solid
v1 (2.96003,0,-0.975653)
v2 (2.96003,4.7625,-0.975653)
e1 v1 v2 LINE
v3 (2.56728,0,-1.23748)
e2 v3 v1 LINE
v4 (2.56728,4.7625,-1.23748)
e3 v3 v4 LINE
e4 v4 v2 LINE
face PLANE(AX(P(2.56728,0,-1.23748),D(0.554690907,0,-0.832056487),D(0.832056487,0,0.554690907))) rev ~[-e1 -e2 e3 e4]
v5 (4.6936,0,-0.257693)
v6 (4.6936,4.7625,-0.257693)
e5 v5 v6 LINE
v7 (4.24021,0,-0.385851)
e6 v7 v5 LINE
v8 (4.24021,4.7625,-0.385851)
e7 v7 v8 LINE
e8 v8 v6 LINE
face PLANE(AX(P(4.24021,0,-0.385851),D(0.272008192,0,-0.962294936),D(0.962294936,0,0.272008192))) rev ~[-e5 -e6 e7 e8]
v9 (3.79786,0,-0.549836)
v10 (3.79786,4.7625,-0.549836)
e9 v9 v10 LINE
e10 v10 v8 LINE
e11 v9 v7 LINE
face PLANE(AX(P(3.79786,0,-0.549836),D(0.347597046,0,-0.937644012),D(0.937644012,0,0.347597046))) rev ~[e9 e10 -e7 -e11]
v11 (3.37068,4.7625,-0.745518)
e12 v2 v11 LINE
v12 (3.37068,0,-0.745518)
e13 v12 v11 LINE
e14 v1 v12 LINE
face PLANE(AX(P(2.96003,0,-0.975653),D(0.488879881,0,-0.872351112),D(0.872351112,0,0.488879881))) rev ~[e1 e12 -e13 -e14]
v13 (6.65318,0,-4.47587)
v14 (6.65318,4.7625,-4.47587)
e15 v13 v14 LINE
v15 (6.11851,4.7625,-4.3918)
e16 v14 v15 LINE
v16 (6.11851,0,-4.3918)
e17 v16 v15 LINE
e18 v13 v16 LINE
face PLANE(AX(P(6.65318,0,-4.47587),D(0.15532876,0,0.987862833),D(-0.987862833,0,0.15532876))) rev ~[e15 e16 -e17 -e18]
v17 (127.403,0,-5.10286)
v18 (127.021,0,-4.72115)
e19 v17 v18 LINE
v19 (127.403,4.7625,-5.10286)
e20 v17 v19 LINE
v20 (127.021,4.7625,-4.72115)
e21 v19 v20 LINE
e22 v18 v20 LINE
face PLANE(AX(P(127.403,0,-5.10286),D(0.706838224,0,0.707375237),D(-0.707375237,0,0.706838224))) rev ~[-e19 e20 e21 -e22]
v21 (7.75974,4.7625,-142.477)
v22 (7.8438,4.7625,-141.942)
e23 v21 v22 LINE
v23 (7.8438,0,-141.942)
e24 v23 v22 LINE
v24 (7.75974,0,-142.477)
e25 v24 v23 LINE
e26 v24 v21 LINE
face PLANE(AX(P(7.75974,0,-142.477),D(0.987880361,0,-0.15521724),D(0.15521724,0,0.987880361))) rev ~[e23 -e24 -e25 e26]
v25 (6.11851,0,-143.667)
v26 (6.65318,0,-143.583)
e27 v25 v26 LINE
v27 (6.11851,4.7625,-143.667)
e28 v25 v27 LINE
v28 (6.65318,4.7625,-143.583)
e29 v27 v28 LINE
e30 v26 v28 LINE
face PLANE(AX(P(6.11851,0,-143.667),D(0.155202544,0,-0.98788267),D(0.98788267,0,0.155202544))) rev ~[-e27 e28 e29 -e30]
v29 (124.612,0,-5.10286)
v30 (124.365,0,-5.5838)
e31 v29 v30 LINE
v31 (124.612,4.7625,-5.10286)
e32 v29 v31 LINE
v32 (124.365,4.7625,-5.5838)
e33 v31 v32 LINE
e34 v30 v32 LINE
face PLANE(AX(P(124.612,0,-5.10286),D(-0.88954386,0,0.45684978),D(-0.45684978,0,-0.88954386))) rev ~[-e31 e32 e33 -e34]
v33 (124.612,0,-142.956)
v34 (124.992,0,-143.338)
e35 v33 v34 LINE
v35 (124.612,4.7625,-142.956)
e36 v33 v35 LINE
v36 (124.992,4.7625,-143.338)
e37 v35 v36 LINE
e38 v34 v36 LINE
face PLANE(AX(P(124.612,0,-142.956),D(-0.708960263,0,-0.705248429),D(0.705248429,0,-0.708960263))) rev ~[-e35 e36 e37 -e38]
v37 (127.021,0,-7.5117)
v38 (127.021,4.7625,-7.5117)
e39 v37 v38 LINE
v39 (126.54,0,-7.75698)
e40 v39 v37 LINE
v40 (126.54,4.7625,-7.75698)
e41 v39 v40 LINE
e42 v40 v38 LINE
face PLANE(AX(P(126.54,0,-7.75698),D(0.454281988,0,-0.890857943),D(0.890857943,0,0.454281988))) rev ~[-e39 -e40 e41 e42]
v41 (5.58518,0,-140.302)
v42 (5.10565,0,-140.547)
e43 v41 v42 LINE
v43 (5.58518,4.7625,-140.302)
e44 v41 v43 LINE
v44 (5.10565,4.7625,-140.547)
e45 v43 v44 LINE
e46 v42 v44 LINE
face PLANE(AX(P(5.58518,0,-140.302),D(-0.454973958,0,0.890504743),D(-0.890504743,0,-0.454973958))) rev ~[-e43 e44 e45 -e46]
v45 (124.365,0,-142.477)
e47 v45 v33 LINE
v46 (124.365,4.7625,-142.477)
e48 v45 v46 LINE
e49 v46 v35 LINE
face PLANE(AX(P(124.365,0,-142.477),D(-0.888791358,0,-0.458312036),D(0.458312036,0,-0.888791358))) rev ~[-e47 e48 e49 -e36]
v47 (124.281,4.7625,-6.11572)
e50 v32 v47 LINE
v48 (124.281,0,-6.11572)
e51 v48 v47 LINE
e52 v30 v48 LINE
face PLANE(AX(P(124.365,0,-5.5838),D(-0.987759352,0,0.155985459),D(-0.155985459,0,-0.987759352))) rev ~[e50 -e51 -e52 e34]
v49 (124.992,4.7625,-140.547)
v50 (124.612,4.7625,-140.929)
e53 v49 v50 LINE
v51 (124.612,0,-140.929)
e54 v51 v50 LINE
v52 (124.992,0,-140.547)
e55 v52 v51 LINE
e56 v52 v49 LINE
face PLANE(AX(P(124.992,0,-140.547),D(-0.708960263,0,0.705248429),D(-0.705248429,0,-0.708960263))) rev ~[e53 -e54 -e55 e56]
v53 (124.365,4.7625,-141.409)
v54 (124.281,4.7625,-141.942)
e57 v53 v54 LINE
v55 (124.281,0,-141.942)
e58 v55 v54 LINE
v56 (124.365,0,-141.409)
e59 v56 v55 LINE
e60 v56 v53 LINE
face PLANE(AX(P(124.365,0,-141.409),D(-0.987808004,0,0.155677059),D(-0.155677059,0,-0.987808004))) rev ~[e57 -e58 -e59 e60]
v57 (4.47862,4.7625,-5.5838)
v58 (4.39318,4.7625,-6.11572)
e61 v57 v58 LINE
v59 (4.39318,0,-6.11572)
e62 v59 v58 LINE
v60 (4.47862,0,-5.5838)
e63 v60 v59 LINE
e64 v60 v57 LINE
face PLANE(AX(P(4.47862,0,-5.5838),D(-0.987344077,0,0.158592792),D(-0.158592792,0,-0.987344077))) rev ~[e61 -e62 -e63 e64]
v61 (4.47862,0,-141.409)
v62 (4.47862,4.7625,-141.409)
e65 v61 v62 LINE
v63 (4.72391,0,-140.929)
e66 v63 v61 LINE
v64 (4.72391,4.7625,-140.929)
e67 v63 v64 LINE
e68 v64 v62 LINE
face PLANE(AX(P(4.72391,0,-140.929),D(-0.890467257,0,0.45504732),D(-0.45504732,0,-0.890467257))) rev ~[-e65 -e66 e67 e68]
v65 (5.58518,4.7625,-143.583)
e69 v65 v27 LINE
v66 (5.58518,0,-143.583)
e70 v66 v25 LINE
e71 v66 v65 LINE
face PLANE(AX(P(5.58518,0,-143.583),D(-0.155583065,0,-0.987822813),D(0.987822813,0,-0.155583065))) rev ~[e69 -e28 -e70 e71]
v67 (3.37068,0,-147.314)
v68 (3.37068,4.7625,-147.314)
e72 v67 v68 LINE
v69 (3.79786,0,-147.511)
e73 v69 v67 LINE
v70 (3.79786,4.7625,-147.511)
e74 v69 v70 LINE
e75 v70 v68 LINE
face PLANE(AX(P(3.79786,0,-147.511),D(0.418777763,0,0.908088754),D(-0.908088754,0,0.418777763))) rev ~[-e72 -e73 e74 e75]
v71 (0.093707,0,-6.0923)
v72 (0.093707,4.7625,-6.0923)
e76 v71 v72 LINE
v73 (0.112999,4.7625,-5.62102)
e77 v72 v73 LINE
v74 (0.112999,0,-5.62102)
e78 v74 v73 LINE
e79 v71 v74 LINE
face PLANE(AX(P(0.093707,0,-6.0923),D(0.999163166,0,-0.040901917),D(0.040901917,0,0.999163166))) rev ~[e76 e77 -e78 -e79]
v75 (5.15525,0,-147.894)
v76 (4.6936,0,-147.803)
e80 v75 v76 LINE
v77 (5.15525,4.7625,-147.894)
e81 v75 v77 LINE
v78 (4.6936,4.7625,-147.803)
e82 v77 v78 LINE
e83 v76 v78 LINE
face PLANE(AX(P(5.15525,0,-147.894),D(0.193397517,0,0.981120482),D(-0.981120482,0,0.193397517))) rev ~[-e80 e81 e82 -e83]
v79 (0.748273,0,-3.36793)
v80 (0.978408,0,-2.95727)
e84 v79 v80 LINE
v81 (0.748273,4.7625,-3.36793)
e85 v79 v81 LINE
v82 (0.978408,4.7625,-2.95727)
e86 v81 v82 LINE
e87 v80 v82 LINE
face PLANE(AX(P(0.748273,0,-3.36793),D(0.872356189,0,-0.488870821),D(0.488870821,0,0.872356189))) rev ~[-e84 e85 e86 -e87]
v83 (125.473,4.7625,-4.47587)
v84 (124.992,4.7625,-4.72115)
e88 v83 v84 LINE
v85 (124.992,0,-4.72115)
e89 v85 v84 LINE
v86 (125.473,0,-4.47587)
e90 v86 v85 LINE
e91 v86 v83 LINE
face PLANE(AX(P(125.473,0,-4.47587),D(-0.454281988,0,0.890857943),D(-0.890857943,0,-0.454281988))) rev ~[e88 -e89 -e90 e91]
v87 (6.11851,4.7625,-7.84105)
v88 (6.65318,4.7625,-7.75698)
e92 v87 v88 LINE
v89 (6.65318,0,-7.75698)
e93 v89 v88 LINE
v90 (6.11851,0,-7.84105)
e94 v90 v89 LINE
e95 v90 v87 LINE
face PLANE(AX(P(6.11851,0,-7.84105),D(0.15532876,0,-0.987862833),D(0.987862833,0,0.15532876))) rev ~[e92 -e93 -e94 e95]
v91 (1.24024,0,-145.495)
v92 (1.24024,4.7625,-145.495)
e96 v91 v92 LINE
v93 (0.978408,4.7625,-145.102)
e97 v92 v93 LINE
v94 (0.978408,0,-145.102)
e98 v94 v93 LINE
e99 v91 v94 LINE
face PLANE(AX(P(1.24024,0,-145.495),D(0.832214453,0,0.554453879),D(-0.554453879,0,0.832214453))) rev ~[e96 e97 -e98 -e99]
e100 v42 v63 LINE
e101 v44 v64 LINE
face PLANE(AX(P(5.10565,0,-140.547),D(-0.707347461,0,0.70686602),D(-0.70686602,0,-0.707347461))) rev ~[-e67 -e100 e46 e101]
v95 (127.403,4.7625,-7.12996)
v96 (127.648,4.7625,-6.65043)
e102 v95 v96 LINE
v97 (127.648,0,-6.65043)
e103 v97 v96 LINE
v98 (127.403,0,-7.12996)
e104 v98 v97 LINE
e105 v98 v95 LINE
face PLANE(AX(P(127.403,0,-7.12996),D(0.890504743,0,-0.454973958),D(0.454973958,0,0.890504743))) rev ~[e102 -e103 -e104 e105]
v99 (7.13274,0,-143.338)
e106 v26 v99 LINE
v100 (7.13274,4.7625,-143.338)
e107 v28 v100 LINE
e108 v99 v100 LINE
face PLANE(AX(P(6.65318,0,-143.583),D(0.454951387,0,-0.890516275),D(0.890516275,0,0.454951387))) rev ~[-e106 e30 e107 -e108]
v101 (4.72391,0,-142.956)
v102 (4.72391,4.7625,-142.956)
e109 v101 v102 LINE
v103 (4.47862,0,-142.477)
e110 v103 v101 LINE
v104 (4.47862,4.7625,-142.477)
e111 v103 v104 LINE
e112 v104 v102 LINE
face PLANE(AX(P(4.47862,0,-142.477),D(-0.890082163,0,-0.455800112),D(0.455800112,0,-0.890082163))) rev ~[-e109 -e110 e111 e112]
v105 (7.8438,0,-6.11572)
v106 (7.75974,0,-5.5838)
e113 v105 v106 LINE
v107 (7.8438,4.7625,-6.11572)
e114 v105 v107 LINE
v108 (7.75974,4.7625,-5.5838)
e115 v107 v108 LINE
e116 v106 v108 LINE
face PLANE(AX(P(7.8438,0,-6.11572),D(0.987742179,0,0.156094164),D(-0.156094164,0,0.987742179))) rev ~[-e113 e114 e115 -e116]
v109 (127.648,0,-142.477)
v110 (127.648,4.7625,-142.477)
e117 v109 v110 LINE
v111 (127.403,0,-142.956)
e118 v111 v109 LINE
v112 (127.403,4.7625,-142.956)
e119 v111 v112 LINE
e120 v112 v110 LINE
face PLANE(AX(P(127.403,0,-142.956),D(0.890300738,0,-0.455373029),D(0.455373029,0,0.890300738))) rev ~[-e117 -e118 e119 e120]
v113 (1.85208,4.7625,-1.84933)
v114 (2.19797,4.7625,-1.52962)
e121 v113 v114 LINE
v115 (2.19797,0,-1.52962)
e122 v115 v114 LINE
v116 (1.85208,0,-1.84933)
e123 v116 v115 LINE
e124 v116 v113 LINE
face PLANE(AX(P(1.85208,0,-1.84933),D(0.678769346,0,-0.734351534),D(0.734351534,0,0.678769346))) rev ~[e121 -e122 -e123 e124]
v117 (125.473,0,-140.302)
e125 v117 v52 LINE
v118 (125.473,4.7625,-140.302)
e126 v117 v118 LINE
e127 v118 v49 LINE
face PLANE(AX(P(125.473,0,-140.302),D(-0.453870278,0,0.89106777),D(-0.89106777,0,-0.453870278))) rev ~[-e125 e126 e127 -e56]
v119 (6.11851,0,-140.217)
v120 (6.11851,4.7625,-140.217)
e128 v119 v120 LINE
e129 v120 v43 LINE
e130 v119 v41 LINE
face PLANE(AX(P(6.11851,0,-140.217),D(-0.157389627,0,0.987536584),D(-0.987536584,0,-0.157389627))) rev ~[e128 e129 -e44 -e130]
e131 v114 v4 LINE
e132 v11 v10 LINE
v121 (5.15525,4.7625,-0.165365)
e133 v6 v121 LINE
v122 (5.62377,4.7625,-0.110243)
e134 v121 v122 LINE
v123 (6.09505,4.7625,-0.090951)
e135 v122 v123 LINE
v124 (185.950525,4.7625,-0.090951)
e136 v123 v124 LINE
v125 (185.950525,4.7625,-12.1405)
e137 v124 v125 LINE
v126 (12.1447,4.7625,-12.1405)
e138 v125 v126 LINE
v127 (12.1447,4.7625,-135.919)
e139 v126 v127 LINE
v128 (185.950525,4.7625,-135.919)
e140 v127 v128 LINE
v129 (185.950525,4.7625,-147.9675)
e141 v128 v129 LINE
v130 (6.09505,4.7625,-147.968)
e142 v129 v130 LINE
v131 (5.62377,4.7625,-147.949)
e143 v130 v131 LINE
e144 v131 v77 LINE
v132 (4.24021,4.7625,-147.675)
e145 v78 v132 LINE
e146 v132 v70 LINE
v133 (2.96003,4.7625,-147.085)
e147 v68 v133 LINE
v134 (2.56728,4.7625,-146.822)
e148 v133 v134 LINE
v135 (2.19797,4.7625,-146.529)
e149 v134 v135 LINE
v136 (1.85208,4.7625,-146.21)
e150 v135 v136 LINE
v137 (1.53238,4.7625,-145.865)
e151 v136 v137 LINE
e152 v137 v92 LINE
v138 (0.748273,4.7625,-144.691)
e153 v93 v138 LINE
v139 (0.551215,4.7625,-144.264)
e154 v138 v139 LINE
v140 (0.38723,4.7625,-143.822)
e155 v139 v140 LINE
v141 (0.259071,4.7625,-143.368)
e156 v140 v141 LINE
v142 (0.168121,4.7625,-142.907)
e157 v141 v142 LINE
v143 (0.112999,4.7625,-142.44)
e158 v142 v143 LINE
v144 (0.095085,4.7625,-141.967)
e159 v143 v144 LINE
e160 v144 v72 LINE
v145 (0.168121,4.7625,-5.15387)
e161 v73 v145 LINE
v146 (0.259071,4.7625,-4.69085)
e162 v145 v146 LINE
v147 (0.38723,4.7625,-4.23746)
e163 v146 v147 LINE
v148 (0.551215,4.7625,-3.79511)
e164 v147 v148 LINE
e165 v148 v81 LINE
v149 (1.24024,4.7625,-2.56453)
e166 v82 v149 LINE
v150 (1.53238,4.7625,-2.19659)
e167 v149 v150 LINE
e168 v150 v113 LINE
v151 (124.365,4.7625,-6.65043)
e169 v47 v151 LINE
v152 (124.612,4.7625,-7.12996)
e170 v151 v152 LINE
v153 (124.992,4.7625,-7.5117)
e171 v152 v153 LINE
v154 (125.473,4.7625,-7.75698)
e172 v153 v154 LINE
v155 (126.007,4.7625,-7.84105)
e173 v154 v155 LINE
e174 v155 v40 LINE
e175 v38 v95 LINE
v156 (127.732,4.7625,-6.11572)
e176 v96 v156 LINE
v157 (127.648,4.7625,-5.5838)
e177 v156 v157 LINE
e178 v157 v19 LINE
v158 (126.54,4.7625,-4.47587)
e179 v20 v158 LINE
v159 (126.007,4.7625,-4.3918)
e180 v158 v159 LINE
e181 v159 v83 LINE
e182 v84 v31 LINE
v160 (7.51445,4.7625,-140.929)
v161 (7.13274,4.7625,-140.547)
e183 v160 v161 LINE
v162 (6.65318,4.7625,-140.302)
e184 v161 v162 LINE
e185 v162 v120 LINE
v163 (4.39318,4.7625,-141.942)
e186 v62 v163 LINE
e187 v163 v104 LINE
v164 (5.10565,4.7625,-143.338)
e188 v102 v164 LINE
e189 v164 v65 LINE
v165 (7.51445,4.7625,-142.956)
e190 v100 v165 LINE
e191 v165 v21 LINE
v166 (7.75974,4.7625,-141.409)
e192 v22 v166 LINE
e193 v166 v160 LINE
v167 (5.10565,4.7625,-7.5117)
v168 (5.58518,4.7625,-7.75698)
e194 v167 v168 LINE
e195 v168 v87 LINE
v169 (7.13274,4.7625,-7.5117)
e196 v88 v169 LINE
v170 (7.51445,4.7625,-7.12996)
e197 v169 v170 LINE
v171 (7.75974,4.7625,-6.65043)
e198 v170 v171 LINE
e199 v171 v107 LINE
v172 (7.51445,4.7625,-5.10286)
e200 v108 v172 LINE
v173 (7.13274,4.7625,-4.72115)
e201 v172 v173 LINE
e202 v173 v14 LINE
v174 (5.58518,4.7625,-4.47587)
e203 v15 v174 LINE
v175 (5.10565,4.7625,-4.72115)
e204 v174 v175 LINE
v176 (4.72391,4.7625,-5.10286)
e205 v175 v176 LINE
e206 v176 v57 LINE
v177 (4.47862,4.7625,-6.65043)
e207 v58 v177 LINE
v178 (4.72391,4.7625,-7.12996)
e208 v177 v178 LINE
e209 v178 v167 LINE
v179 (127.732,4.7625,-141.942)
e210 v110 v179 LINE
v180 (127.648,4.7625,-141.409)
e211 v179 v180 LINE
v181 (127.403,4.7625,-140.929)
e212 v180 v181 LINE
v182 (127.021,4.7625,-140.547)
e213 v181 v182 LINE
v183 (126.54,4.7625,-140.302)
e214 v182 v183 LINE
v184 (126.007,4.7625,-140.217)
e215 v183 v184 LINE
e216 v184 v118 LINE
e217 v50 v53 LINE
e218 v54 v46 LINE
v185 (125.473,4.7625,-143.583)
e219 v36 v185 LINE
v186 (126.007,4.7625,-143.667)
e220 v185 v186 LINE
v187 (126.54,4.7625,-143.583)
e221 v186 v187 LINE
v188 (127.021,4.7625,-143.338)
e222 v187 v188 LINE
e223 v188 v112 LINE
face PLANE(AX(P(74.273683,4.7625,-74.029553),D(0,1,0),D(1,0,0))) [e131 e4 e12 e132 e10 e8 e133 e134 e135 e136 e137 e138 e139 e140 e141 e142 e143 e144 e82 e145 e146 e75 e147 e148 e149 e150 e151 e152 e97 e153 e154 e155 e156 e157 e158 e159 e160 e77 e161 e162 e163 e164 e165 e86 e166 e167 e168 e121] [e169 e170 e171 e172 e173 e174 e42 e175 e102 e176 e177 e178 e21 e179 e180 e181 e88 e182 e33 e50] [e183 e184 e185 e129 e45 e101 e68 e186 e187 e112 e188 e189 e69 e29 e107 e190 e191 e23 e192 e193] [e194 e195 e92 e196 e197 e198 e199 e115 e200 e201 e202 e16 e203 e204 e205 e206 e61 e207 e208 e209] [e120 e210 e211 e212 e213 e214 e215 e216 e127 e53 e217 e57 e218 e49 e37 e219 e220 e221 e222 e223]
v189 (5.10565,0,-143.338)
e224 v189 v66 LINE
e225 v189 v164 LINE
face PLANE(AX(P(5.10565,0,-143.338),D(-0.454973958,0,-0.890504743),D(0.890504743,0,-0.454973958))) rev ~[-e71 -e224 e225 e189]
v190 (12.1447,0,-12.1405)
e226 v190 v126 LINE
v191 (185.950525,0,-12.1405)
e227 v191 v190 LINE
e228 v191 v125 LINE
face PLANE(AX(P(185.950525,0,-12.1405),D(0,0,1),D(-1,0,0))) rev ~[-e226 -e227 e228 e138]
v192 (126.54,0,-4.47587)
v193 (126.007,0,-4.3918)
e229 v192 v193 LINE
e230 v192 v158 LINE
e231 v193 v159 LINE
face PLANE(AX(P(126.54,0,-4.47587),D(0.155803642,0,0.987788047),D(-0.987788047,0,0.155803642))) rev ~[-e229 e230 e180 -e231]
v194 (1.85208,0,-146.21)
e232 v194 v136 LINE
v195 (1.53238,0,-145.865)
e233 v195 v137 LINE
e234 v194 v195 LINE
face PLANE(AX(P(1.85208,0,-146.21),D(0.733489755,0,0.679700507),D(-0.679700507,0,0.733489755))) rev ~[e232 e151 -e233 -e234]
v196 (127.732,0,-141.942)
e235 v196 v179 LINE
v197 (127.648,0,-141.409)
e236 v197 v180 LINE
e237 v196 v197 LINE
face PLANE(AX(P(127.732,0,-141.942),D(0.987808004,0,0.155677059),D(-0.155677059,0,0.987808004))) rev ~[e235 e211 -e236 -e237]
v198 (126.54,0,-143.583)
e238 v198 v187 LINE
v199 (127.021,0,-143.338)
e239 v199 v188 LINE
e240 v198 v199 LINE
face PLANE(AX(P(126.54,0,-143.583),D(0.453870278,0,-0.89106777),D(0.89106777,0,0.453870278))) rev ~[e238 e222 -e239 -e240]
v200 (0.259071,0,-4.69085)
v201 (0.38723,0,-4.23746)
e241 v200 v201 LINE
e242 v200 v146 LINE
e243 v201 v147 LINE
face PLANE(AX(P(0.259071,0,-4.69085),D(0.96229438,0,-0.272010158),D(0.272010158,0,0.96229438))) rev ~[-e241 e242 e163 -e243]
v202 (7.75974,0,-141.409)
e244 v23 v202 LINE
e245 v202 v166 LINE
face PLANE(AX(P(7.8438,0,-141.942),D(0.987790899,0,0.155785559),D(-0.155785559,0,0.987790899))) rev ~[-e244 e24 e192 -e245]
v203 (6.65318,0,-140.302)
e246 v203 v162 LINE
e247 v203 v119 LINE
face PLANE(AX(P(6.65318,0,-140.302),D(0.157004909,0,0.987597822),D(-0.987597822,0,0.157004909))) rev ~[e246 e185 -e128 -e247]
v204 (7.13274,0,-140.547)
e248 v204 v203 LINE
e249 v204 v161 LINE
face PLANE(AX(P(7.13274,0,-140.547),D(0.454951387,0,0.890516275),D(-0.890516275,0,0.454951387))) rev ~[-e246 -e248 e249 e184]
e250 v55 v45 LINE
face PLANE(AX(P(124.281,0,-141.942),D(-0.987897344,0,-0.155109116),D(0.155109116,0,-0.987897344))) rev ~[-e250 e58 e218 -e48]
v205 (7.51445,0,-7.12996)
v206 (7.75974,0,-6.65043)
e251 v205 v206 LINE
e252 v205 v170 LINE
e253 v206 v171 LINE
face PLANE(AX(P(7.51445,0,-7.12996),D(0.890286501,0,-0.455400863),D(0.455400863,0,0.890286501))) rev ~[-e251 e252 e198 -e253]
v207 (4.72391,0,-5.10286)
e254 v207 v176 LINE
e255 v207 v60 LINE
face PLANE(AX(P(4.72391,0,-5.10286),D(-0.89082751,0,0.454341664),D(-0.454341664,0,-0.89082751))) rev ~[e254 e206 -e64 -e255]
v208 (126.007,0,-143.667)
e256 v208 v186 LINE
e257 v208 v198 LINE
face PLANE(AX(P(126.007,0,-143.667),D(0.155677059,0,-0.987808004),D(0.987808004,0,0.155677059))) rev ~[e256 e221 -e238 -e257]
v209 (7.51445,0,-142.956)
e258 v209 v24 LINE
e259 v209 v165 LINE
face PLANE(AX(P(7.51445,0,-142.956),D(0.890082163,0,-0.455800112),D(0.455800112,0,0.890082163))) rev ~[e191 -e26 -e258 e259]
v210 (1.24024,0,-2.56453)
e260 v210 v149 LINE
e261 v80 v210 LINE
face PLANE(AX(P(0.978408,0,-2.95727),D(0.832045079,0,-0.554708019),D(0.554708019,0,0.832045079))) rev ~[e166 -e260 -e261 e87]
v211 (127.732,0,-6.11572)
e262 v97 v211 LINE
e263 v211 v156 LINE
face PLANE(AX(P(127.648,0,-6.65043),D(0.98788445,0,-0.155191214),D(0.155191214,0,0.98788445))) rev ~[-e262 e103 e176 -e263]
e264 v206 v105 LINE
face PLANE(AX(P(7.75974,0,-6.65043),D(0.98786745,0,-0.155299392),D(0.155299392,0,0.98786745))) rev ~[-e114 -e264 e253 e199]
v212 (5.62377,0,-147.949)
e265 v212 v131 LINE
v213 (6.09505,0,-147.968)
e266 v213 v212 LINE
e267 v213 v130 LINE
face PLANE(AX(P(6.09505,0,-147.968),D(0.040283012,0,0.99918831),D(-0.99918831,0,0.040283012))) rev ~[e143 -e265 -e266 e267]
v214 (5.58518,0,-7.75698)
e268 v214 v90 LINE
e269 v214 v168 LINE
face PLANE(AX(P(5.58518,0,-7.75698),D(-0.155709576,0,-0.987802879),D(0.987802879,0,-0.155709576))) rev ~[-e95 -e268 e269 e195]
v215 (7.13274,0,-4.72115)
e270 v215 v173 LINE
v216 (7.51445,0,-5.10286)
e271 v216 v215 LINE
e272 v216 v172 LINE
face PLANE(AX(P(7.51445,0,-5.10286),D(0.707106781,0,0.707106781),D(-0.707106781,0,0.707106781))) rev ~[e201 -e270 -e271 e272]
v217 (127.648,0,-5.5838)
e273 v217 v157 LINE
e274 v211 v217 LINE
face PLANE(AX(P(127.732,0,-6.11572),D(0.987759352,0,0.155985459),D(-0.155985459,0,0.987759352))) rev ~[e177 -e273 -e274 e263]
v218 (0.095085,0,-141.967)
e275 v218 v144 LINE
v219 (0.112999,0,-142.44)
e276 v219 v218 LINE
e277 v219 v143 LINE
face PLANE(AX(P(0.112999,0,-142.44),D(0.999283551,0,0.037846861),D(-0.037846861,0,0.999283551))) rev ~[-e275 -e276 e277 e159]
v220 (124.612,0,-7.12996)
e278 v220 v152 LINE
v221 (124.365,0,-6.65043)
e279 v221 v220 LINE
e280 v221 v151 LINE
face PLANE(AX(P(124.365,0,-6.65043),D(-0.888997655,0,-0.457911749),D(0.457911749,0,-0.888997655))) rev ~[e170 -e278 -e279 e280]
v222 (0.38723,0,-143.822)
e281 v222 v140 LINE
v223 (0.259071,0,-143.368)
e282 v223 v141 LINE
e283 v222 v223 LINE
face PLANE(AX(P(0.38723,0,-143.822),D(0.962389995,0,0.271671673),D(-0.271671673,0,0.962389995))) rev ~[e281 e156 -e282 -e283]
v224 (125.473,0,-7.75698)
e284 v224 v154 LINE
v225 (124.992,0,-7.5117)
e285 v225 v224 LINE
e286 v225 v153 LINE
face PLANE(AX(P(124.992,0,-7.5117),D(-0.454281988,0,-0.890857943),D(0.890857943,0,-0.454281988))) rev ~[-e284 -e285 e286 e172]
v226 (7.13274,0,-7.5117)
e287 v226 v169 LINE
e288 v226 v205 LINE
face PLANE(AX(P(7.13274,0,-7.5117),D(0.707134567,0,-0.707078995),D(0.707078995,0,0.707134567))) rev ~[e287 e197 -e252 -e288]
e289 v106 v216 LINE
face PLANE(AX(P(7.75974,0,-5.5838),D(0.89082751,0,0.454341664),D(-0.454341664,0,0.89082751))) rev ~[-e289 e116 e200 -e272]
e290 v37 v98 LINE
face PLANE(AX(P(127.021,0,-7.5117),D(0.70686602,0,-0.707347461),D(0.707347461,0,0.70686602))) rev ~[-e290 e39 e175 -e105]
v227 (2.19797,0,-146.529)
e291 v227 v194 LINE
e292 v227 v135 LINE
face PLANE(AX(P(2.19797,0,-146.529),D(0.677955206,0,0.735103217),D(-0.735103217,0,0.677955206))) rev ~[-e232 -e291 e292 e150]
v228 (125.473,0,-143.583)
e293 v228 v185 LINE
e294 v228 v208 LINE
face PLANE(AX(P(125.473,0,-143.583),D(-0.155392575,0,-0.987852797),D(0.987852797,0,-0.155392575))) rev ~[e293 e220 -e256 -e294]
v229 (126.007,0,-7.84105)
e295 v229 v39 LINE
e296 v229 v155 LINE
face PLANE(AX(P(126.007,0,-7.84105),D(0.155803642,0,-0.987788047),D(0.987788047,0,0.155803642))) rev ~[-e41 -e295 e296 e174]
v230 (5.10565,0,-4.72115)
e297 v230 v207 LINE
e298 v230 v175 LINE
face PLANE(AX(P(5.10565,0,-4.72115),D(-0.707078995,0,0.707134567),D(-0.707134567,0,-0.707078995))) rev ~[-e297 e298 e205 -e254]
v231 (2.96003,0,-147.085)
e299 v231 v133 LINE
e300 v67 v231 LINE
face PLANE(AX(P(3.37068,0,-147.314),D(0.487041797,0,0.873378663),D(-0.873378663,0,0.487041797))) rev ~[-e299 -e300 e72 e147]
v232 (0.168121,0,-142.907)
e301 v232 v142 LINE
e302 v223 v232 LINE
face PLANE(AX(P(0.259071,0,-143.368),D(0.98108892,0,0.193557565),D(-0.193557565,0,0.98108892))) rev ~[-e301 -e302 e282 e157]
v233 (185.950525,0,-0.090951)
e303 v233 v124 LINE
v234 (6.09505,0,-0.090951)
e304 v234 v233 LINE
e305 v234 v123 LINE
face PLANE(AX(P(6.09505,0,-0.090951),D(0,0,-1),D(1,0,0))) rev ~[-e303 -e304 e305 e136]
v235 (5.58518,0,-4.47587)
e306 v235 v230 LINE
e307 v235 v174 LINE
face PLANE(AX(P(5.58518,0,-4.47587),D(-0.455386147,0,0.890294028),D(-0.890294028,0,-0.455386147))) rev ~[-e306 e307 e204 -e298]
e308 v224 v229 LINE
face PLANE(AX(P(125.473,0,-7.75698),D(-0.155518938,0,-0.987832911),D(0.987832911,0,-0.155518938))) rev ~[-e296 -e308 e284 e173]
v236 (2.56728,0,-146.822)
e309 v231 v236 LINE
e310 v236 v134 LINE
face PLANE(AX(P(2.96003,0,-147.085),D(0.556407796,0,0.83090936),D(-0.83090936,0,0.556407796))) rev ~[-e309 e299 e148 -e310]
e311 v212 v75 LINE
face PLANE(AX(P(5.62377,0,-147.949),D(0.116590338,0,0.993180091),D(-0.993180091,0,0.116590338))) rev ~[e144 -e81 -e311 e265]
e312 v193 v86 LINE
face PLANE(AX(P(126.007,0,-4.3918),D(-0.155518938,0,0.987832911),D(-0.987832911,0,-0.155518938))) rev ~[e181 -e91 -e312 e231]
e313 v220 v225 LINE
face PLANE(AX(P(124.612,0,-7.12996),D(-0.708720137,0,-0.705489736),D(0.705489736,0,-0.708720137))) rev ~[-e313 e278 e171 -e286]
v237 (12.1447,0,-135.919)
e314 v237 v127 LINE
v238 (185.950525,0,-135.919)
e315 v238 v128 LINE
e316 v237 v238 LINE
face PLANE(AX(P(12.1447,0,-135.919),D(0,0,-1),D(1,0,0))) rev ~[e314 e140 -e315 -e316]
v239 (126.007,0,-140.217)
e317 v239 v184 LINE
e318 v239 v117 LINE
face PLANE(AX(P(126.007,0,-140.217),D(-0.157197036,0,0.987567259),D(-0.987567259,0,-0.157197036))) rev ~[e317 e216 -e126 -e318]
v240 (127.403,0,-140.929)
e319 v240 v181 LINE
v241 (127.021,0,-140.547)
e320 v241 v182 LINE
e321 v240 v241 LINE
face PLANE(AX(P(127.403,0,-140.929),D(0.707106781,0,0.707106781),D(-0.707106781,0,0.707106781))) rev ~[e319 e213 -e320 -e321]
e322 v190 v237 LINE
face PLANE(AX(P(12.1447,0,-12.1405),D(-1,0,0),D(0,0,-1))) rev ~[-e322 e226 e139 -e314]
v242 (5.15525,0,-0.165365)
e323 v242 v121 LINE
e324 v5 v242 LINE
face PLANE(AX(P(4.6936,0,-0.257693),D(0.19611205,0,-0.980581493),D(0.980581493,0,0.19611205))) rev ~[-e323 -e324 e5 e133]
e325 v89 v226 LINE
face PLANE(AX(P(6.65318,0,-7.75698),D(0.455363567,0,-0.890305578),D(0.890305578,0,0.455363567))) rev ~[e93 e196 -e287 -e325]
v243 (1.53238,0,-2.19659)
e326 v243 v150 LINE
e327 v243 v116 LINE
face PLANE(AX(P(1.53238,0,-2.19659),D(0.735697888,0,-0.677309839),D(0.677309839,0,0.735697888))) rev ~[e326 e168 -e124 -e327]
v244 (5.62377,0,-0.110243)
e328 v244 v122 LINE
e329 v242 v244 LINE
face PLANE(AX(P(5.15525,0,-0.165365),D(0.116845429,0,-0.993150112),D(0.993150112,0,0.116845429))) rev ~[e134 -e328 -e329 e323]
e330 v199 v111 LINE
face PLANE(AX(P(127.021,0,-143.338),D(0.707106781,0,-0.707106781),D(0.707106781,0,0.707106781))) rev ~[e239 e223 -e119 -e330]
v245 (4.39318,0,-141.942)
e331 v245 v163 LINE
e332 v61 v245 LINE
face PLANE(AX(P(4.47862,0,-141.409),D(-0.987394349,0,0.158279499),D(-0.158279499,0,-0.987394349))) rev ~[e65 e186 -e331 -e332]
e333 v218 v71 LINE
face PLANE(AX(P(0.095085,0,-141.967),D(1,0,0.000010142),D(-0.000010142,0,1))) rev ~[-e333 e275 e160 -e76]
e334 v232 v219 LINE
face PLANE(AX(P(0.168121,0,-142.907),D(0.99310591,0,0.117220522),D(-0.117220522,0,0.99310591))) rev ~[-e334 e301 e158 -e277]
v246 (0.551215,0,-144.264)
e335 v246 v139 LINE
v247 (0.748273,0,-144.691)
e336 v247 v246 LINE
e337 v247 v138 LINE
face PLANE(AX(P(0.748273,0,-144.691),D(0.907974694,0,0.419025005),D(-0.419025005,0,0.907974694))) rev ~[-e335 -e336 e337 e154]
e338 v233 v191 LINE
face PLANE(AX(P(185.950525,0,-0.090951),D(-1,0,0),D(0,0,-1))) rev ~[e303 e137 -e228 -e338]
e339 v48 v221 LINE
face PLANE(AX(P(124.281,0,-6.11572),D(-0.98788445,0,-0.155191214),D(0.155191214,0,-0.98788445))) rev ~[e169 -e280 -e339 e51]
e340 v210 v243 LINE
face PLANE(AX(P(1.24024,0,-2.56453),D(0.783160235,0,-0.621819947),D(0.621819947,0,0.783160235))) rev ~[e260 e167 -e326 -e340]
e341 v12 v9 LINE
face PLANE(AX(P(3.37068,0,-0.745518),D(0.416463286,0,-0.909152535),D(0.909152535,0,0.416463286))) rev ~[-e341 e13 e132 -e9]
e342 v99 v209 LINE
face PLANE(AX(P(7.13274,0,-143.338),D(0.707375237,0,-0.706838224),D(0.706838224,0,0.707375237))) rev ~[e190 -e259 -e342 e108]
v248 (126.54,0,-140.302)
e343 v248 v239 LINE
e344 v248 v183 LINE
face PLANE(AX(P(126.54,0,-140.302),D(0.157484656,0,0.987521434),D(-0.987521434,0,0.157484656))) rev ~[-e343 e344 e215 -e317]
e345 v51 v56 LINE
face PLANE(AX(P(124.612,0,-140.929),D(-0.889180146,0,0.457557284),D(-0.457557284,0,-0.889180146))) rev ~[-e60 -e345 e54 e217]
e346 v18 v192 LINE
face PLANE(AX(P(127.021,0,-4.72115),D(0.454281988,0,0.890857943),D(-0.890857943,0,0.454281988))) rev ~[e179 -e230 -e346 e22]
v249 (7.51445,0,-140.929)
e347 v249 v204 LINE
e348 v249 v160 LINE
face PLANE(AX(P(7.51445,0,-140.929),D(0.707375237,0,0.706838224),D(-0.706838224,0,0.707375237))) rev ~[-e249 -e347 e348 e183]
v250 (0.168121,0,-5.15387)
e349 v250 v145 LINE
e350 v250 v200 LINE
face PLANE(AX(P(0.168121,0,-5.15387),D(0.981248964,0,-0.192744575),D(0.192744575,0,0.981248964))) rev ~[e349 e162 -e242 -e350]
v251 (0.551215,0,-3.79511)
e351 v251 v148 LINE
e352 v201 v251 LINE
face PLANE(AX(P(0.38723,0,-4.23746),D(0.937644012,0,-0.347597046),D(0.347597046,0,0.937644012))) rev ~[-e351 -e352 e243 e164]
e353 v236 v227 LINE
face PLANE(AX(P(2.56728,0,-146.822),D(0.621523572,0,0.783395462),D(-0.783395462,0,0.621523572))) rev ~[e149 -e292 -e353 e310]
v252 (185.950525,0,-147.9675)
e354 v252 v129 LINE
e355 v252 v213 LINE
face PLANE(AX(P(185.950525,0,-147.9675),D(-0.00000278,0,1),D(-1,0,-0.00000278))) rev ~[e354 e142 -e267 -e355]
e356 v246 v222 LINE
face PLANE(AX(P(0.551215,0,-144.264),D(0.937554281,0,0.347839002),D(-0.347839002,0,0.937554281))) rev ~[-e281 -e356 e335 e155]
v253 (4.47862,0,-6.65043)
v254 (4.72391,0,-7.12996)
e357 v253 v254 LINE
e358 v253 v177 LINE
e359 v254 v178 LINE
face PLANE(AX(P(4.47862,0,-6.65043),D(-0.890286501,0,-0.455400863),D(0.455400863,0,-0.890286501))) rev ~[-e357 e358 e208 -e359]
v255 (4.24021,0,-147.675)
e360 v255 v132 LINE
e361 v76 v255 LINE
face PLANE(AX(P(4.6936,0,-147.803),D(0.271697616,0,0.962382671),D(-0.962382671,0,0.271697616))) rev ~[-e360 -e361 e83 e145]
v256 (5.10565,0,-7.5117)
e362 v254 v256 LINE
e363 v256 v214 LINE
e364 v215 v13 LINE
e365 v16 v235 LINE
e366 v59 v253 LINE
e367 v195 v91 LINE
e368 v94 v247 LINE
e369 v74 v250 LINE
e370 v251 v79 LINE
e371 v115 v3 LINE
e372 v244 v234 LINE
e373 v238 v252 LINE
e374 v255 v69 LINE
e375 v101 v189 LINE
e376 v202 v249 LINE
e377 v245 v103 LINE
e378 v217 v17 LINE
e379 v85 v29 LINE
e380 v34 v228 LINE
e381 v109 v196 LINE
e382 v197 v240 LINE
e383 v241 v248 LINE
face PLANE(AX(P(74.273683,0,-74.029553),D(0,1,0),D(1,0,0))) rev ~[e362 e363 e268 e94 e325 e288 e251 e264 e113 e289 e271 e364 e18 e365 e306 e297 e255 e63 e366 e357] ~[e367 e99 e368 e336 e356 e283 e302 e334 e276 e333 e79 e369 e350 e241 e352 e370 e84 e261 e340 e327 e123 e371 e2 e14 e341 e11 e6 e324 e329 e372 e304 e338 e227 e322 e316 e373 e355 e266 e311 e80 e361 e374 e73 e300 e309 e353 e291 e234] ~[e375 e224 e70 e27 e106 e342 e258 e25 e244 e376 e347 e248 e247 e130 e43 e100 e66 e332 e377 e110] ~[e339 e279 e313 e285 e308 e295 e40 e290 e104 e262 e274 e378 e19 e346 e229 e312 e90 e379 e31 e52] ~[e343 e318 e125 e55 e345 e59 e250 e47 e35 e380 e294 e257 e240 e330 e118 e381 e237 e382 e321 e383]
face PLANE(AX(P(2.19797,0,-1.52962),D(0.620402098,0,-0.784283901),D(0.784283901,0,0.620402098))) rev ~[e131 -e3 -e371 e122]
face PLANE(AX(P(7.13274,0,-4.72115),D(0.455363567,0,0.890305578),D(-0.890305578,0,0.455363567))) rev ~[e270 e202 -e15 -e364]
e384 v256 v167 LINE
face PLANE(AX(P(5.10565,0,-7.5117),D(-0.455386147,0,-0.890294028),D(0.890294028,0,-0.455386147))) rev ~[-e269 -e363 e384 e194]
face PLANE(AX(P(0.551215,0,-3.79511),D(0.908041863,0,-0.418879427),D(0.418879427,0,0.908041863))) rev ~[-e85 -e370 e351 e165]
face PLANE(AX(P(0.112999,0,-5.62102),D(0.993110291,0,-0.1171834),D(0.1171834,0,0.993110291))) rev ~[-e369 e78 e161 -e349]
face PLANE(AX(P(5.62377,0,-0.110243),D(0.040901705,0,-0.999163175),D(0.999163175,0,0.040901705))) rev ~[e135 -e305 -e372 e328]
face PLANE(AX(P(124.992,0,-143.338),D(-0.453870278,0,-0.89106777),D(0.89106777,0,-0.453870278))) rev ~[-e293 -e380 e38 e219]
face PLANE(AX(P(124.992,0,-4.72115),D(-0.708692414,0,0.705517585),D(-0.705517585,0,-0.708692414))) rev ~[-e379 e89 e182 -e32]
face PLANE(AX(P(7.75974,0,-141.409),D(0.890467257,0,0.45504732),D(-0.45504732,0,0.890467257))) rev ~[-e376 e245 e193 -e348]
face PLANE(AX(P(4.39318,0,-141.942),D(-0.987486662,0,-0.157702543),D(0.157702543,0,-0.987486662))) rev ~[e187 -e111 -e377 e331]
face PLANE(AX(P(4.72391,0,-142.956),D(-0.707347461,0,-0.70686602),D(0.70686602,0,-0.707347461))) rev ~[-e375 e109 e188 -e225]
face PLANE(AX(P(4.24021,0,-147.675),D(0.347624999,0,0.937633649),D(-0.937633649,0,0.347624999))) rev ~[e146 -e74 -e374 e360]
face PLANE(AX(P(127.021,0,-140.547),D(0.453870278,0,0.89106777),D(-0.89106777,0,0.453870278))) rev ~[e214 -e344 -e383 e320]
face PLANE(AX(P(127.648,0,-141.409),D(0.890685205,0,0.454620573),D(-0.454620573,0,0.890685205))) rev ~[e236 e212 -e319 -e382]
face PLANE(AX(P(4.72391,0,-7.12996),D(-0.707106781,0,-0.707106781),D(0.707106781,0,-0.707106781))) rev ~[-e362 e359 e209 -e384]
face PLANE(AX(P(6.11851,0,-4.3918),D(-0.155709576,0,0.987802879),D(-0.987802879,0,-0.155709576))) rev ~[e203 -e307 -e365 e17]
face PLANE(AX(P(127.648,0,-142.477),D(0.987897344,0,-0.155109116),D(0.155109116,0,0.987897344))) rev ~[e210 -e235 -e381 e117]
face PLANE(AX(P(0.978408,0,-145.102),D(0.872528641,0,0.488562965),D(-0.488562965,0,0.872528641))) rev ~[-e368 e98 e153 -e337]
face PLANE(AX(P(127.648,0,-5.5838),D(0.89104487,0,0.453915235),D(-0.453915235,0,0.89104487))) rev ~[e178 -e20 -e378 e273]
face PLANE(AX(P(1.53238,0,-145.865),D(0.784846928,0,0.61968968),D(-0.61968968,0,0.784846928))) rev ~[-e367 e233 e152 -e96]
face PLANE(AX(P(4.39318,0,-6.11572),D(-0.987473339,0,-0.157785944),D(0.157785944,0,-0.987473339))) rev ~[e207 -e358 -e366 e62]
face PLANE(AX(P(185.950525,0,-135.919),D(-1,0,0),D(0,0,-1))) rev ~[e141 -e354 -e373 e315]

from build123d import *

# Parameters (mm, degrees)
BOSS_EXTRUDE2_DEPTH = 4.7625


with BuildPart() as part:
    # Sketch1 → Boss-Extrude2 (new body)
    with BuildSketch(Plane(origin=(0, 0, 0), x_dir=(1, 0, 0), z_dir=(0, 1, 0))):
        Polygon((185.950525, 135.919), (185.950525, 147.9675), (6.09505, 147.968), (5.62377, 147.949), (5.15525, 147.894), (4.6936, 147.803), (4.24021, 147.675), (3.79786, 147.511), (3.37068, 147.314), (2.96003, 147.085), (2.56728, 146.822), (2.19797, 146.529), (1.85208, 146.21), (1.53238, 145.865), (1.24024, 145.495), (0.978408, 145.102), (0.748273, 144.691), (0.551215, 144.264), (0.38723, 143.822), (0.259071, 143.368), (0.168121, 142.907), (0.112999, 142.44), (0.0950846, 141.967), (0.0937066, 6.0923), (0.112999, 5.62102), (0.168121, 5.15387), (0.259071, 4.69085), (0.38723, 4.23746), (0.551215, 3.79511), (0.748273, 3.36793), (0.978408, 2.95727), (1.24024, 2.56453), (1.53238, 2.19659), (1.85208, 1.84933), (2.19797, 1.52962), (2.56728, 1.23748), (2.96003, 0.975653), (3.37068, 0.745518), (3.79786, 0.549836), (4.24021, 0.385851), (4.6936, 0.257693), (5.15525, 0.165365), (5.62377, 0.110243), (6.09505, 0.0909507), (185.950525, 0.0909507), (185.950525, 12.1405), (12.1447, 12.1405), (12.1447, 135.919), align=None)
        Polygon((5.10565, 7.5117), (5.58518, 7.75698), (6.11851, 7.84105), (6.65318, 7.75698), (7.13274, 7.5117), (7.51445, 7.12996), (7.75974, 6.65043), (7.8438, 6.11572), (7.75974, 5.5838), (7.51445, 5.10286), (7.13274, 4.72115), (6.65318, 4.47587), (6.11851, 4.3918), (5.58518, 4.47587), (5.10565, 4.72115), (4.72391, 5.10286), (4.47862, 5.5838), (4.39318, 6.11572), (4.47862, 6.65043), (4.72391, 7.12996), align=None, mode=Mode.SUBTRACT)
        Polygon((124.992, 7.5117), (125.473, 7.75698), (126.007, 7.84105), (126.54, 7.75698), (127.021, 7.5117), (127.403, 7.12996), (127.648, 6.65043), (127.732, 6.11572), (127.648, 5.5838), (127.403, 5.10286), (127.021, 4.72115), (126.54, 4.47587), (126.007, 4.3918), (125.473, 4.47587), (124.992, 4.72115), (124.612, 5.10286), (124.365, 5.5838), (124.281, 6.11572), (124.365, 6.65043), (124.612, 7.12996), align=None, mode=Mode.SUBTRACT)
        Polygon((5.10565, 143.338), (5.58518, 143.583), (6.11851, 143.667), (6.65318, 143.583), (7.13274, 143.338), (7.51445, 142.956), (7.75974, 142.477), (7.8438, 141.942), (7.75974, 141.409), (7.51445, 140.929), (7.13274, 140.547), (6.65318, 140.302), (6.11851, 140.217), (5.58518, 140.302), (5.10565, 140.547), (4.72391, 140.929), (4.47862, 141.409), (4.39318, 141.942), (4.47862, 142.477), (4.72391, 142.956), align=None, mode=Mode.SUBTRACT)
        Polygon((124.992, 143.338), (125.473, 143.583), (126.007, 143.667), (126.54, 143.583), (127.021, 143.338), (127.403, 142.956), (127.648, 142.477), (127.732, 141.942), (127.648, 141.409), (127.403, 140.929), (127.021, 140.547), (126.54, 140.302), (126.007, 140.217), (125.473, 140.302), (124.992, 140.547), (124.612, 140.929), (124.365, 141.409), (124.281, 141.942), (124.365, 142.477), (124.612, 142.956), align=None, mode=Mode.SUBTRACT)
    extrude(amount=BOSS_EXTRUDE2_DEPTH)


solid = part.part
